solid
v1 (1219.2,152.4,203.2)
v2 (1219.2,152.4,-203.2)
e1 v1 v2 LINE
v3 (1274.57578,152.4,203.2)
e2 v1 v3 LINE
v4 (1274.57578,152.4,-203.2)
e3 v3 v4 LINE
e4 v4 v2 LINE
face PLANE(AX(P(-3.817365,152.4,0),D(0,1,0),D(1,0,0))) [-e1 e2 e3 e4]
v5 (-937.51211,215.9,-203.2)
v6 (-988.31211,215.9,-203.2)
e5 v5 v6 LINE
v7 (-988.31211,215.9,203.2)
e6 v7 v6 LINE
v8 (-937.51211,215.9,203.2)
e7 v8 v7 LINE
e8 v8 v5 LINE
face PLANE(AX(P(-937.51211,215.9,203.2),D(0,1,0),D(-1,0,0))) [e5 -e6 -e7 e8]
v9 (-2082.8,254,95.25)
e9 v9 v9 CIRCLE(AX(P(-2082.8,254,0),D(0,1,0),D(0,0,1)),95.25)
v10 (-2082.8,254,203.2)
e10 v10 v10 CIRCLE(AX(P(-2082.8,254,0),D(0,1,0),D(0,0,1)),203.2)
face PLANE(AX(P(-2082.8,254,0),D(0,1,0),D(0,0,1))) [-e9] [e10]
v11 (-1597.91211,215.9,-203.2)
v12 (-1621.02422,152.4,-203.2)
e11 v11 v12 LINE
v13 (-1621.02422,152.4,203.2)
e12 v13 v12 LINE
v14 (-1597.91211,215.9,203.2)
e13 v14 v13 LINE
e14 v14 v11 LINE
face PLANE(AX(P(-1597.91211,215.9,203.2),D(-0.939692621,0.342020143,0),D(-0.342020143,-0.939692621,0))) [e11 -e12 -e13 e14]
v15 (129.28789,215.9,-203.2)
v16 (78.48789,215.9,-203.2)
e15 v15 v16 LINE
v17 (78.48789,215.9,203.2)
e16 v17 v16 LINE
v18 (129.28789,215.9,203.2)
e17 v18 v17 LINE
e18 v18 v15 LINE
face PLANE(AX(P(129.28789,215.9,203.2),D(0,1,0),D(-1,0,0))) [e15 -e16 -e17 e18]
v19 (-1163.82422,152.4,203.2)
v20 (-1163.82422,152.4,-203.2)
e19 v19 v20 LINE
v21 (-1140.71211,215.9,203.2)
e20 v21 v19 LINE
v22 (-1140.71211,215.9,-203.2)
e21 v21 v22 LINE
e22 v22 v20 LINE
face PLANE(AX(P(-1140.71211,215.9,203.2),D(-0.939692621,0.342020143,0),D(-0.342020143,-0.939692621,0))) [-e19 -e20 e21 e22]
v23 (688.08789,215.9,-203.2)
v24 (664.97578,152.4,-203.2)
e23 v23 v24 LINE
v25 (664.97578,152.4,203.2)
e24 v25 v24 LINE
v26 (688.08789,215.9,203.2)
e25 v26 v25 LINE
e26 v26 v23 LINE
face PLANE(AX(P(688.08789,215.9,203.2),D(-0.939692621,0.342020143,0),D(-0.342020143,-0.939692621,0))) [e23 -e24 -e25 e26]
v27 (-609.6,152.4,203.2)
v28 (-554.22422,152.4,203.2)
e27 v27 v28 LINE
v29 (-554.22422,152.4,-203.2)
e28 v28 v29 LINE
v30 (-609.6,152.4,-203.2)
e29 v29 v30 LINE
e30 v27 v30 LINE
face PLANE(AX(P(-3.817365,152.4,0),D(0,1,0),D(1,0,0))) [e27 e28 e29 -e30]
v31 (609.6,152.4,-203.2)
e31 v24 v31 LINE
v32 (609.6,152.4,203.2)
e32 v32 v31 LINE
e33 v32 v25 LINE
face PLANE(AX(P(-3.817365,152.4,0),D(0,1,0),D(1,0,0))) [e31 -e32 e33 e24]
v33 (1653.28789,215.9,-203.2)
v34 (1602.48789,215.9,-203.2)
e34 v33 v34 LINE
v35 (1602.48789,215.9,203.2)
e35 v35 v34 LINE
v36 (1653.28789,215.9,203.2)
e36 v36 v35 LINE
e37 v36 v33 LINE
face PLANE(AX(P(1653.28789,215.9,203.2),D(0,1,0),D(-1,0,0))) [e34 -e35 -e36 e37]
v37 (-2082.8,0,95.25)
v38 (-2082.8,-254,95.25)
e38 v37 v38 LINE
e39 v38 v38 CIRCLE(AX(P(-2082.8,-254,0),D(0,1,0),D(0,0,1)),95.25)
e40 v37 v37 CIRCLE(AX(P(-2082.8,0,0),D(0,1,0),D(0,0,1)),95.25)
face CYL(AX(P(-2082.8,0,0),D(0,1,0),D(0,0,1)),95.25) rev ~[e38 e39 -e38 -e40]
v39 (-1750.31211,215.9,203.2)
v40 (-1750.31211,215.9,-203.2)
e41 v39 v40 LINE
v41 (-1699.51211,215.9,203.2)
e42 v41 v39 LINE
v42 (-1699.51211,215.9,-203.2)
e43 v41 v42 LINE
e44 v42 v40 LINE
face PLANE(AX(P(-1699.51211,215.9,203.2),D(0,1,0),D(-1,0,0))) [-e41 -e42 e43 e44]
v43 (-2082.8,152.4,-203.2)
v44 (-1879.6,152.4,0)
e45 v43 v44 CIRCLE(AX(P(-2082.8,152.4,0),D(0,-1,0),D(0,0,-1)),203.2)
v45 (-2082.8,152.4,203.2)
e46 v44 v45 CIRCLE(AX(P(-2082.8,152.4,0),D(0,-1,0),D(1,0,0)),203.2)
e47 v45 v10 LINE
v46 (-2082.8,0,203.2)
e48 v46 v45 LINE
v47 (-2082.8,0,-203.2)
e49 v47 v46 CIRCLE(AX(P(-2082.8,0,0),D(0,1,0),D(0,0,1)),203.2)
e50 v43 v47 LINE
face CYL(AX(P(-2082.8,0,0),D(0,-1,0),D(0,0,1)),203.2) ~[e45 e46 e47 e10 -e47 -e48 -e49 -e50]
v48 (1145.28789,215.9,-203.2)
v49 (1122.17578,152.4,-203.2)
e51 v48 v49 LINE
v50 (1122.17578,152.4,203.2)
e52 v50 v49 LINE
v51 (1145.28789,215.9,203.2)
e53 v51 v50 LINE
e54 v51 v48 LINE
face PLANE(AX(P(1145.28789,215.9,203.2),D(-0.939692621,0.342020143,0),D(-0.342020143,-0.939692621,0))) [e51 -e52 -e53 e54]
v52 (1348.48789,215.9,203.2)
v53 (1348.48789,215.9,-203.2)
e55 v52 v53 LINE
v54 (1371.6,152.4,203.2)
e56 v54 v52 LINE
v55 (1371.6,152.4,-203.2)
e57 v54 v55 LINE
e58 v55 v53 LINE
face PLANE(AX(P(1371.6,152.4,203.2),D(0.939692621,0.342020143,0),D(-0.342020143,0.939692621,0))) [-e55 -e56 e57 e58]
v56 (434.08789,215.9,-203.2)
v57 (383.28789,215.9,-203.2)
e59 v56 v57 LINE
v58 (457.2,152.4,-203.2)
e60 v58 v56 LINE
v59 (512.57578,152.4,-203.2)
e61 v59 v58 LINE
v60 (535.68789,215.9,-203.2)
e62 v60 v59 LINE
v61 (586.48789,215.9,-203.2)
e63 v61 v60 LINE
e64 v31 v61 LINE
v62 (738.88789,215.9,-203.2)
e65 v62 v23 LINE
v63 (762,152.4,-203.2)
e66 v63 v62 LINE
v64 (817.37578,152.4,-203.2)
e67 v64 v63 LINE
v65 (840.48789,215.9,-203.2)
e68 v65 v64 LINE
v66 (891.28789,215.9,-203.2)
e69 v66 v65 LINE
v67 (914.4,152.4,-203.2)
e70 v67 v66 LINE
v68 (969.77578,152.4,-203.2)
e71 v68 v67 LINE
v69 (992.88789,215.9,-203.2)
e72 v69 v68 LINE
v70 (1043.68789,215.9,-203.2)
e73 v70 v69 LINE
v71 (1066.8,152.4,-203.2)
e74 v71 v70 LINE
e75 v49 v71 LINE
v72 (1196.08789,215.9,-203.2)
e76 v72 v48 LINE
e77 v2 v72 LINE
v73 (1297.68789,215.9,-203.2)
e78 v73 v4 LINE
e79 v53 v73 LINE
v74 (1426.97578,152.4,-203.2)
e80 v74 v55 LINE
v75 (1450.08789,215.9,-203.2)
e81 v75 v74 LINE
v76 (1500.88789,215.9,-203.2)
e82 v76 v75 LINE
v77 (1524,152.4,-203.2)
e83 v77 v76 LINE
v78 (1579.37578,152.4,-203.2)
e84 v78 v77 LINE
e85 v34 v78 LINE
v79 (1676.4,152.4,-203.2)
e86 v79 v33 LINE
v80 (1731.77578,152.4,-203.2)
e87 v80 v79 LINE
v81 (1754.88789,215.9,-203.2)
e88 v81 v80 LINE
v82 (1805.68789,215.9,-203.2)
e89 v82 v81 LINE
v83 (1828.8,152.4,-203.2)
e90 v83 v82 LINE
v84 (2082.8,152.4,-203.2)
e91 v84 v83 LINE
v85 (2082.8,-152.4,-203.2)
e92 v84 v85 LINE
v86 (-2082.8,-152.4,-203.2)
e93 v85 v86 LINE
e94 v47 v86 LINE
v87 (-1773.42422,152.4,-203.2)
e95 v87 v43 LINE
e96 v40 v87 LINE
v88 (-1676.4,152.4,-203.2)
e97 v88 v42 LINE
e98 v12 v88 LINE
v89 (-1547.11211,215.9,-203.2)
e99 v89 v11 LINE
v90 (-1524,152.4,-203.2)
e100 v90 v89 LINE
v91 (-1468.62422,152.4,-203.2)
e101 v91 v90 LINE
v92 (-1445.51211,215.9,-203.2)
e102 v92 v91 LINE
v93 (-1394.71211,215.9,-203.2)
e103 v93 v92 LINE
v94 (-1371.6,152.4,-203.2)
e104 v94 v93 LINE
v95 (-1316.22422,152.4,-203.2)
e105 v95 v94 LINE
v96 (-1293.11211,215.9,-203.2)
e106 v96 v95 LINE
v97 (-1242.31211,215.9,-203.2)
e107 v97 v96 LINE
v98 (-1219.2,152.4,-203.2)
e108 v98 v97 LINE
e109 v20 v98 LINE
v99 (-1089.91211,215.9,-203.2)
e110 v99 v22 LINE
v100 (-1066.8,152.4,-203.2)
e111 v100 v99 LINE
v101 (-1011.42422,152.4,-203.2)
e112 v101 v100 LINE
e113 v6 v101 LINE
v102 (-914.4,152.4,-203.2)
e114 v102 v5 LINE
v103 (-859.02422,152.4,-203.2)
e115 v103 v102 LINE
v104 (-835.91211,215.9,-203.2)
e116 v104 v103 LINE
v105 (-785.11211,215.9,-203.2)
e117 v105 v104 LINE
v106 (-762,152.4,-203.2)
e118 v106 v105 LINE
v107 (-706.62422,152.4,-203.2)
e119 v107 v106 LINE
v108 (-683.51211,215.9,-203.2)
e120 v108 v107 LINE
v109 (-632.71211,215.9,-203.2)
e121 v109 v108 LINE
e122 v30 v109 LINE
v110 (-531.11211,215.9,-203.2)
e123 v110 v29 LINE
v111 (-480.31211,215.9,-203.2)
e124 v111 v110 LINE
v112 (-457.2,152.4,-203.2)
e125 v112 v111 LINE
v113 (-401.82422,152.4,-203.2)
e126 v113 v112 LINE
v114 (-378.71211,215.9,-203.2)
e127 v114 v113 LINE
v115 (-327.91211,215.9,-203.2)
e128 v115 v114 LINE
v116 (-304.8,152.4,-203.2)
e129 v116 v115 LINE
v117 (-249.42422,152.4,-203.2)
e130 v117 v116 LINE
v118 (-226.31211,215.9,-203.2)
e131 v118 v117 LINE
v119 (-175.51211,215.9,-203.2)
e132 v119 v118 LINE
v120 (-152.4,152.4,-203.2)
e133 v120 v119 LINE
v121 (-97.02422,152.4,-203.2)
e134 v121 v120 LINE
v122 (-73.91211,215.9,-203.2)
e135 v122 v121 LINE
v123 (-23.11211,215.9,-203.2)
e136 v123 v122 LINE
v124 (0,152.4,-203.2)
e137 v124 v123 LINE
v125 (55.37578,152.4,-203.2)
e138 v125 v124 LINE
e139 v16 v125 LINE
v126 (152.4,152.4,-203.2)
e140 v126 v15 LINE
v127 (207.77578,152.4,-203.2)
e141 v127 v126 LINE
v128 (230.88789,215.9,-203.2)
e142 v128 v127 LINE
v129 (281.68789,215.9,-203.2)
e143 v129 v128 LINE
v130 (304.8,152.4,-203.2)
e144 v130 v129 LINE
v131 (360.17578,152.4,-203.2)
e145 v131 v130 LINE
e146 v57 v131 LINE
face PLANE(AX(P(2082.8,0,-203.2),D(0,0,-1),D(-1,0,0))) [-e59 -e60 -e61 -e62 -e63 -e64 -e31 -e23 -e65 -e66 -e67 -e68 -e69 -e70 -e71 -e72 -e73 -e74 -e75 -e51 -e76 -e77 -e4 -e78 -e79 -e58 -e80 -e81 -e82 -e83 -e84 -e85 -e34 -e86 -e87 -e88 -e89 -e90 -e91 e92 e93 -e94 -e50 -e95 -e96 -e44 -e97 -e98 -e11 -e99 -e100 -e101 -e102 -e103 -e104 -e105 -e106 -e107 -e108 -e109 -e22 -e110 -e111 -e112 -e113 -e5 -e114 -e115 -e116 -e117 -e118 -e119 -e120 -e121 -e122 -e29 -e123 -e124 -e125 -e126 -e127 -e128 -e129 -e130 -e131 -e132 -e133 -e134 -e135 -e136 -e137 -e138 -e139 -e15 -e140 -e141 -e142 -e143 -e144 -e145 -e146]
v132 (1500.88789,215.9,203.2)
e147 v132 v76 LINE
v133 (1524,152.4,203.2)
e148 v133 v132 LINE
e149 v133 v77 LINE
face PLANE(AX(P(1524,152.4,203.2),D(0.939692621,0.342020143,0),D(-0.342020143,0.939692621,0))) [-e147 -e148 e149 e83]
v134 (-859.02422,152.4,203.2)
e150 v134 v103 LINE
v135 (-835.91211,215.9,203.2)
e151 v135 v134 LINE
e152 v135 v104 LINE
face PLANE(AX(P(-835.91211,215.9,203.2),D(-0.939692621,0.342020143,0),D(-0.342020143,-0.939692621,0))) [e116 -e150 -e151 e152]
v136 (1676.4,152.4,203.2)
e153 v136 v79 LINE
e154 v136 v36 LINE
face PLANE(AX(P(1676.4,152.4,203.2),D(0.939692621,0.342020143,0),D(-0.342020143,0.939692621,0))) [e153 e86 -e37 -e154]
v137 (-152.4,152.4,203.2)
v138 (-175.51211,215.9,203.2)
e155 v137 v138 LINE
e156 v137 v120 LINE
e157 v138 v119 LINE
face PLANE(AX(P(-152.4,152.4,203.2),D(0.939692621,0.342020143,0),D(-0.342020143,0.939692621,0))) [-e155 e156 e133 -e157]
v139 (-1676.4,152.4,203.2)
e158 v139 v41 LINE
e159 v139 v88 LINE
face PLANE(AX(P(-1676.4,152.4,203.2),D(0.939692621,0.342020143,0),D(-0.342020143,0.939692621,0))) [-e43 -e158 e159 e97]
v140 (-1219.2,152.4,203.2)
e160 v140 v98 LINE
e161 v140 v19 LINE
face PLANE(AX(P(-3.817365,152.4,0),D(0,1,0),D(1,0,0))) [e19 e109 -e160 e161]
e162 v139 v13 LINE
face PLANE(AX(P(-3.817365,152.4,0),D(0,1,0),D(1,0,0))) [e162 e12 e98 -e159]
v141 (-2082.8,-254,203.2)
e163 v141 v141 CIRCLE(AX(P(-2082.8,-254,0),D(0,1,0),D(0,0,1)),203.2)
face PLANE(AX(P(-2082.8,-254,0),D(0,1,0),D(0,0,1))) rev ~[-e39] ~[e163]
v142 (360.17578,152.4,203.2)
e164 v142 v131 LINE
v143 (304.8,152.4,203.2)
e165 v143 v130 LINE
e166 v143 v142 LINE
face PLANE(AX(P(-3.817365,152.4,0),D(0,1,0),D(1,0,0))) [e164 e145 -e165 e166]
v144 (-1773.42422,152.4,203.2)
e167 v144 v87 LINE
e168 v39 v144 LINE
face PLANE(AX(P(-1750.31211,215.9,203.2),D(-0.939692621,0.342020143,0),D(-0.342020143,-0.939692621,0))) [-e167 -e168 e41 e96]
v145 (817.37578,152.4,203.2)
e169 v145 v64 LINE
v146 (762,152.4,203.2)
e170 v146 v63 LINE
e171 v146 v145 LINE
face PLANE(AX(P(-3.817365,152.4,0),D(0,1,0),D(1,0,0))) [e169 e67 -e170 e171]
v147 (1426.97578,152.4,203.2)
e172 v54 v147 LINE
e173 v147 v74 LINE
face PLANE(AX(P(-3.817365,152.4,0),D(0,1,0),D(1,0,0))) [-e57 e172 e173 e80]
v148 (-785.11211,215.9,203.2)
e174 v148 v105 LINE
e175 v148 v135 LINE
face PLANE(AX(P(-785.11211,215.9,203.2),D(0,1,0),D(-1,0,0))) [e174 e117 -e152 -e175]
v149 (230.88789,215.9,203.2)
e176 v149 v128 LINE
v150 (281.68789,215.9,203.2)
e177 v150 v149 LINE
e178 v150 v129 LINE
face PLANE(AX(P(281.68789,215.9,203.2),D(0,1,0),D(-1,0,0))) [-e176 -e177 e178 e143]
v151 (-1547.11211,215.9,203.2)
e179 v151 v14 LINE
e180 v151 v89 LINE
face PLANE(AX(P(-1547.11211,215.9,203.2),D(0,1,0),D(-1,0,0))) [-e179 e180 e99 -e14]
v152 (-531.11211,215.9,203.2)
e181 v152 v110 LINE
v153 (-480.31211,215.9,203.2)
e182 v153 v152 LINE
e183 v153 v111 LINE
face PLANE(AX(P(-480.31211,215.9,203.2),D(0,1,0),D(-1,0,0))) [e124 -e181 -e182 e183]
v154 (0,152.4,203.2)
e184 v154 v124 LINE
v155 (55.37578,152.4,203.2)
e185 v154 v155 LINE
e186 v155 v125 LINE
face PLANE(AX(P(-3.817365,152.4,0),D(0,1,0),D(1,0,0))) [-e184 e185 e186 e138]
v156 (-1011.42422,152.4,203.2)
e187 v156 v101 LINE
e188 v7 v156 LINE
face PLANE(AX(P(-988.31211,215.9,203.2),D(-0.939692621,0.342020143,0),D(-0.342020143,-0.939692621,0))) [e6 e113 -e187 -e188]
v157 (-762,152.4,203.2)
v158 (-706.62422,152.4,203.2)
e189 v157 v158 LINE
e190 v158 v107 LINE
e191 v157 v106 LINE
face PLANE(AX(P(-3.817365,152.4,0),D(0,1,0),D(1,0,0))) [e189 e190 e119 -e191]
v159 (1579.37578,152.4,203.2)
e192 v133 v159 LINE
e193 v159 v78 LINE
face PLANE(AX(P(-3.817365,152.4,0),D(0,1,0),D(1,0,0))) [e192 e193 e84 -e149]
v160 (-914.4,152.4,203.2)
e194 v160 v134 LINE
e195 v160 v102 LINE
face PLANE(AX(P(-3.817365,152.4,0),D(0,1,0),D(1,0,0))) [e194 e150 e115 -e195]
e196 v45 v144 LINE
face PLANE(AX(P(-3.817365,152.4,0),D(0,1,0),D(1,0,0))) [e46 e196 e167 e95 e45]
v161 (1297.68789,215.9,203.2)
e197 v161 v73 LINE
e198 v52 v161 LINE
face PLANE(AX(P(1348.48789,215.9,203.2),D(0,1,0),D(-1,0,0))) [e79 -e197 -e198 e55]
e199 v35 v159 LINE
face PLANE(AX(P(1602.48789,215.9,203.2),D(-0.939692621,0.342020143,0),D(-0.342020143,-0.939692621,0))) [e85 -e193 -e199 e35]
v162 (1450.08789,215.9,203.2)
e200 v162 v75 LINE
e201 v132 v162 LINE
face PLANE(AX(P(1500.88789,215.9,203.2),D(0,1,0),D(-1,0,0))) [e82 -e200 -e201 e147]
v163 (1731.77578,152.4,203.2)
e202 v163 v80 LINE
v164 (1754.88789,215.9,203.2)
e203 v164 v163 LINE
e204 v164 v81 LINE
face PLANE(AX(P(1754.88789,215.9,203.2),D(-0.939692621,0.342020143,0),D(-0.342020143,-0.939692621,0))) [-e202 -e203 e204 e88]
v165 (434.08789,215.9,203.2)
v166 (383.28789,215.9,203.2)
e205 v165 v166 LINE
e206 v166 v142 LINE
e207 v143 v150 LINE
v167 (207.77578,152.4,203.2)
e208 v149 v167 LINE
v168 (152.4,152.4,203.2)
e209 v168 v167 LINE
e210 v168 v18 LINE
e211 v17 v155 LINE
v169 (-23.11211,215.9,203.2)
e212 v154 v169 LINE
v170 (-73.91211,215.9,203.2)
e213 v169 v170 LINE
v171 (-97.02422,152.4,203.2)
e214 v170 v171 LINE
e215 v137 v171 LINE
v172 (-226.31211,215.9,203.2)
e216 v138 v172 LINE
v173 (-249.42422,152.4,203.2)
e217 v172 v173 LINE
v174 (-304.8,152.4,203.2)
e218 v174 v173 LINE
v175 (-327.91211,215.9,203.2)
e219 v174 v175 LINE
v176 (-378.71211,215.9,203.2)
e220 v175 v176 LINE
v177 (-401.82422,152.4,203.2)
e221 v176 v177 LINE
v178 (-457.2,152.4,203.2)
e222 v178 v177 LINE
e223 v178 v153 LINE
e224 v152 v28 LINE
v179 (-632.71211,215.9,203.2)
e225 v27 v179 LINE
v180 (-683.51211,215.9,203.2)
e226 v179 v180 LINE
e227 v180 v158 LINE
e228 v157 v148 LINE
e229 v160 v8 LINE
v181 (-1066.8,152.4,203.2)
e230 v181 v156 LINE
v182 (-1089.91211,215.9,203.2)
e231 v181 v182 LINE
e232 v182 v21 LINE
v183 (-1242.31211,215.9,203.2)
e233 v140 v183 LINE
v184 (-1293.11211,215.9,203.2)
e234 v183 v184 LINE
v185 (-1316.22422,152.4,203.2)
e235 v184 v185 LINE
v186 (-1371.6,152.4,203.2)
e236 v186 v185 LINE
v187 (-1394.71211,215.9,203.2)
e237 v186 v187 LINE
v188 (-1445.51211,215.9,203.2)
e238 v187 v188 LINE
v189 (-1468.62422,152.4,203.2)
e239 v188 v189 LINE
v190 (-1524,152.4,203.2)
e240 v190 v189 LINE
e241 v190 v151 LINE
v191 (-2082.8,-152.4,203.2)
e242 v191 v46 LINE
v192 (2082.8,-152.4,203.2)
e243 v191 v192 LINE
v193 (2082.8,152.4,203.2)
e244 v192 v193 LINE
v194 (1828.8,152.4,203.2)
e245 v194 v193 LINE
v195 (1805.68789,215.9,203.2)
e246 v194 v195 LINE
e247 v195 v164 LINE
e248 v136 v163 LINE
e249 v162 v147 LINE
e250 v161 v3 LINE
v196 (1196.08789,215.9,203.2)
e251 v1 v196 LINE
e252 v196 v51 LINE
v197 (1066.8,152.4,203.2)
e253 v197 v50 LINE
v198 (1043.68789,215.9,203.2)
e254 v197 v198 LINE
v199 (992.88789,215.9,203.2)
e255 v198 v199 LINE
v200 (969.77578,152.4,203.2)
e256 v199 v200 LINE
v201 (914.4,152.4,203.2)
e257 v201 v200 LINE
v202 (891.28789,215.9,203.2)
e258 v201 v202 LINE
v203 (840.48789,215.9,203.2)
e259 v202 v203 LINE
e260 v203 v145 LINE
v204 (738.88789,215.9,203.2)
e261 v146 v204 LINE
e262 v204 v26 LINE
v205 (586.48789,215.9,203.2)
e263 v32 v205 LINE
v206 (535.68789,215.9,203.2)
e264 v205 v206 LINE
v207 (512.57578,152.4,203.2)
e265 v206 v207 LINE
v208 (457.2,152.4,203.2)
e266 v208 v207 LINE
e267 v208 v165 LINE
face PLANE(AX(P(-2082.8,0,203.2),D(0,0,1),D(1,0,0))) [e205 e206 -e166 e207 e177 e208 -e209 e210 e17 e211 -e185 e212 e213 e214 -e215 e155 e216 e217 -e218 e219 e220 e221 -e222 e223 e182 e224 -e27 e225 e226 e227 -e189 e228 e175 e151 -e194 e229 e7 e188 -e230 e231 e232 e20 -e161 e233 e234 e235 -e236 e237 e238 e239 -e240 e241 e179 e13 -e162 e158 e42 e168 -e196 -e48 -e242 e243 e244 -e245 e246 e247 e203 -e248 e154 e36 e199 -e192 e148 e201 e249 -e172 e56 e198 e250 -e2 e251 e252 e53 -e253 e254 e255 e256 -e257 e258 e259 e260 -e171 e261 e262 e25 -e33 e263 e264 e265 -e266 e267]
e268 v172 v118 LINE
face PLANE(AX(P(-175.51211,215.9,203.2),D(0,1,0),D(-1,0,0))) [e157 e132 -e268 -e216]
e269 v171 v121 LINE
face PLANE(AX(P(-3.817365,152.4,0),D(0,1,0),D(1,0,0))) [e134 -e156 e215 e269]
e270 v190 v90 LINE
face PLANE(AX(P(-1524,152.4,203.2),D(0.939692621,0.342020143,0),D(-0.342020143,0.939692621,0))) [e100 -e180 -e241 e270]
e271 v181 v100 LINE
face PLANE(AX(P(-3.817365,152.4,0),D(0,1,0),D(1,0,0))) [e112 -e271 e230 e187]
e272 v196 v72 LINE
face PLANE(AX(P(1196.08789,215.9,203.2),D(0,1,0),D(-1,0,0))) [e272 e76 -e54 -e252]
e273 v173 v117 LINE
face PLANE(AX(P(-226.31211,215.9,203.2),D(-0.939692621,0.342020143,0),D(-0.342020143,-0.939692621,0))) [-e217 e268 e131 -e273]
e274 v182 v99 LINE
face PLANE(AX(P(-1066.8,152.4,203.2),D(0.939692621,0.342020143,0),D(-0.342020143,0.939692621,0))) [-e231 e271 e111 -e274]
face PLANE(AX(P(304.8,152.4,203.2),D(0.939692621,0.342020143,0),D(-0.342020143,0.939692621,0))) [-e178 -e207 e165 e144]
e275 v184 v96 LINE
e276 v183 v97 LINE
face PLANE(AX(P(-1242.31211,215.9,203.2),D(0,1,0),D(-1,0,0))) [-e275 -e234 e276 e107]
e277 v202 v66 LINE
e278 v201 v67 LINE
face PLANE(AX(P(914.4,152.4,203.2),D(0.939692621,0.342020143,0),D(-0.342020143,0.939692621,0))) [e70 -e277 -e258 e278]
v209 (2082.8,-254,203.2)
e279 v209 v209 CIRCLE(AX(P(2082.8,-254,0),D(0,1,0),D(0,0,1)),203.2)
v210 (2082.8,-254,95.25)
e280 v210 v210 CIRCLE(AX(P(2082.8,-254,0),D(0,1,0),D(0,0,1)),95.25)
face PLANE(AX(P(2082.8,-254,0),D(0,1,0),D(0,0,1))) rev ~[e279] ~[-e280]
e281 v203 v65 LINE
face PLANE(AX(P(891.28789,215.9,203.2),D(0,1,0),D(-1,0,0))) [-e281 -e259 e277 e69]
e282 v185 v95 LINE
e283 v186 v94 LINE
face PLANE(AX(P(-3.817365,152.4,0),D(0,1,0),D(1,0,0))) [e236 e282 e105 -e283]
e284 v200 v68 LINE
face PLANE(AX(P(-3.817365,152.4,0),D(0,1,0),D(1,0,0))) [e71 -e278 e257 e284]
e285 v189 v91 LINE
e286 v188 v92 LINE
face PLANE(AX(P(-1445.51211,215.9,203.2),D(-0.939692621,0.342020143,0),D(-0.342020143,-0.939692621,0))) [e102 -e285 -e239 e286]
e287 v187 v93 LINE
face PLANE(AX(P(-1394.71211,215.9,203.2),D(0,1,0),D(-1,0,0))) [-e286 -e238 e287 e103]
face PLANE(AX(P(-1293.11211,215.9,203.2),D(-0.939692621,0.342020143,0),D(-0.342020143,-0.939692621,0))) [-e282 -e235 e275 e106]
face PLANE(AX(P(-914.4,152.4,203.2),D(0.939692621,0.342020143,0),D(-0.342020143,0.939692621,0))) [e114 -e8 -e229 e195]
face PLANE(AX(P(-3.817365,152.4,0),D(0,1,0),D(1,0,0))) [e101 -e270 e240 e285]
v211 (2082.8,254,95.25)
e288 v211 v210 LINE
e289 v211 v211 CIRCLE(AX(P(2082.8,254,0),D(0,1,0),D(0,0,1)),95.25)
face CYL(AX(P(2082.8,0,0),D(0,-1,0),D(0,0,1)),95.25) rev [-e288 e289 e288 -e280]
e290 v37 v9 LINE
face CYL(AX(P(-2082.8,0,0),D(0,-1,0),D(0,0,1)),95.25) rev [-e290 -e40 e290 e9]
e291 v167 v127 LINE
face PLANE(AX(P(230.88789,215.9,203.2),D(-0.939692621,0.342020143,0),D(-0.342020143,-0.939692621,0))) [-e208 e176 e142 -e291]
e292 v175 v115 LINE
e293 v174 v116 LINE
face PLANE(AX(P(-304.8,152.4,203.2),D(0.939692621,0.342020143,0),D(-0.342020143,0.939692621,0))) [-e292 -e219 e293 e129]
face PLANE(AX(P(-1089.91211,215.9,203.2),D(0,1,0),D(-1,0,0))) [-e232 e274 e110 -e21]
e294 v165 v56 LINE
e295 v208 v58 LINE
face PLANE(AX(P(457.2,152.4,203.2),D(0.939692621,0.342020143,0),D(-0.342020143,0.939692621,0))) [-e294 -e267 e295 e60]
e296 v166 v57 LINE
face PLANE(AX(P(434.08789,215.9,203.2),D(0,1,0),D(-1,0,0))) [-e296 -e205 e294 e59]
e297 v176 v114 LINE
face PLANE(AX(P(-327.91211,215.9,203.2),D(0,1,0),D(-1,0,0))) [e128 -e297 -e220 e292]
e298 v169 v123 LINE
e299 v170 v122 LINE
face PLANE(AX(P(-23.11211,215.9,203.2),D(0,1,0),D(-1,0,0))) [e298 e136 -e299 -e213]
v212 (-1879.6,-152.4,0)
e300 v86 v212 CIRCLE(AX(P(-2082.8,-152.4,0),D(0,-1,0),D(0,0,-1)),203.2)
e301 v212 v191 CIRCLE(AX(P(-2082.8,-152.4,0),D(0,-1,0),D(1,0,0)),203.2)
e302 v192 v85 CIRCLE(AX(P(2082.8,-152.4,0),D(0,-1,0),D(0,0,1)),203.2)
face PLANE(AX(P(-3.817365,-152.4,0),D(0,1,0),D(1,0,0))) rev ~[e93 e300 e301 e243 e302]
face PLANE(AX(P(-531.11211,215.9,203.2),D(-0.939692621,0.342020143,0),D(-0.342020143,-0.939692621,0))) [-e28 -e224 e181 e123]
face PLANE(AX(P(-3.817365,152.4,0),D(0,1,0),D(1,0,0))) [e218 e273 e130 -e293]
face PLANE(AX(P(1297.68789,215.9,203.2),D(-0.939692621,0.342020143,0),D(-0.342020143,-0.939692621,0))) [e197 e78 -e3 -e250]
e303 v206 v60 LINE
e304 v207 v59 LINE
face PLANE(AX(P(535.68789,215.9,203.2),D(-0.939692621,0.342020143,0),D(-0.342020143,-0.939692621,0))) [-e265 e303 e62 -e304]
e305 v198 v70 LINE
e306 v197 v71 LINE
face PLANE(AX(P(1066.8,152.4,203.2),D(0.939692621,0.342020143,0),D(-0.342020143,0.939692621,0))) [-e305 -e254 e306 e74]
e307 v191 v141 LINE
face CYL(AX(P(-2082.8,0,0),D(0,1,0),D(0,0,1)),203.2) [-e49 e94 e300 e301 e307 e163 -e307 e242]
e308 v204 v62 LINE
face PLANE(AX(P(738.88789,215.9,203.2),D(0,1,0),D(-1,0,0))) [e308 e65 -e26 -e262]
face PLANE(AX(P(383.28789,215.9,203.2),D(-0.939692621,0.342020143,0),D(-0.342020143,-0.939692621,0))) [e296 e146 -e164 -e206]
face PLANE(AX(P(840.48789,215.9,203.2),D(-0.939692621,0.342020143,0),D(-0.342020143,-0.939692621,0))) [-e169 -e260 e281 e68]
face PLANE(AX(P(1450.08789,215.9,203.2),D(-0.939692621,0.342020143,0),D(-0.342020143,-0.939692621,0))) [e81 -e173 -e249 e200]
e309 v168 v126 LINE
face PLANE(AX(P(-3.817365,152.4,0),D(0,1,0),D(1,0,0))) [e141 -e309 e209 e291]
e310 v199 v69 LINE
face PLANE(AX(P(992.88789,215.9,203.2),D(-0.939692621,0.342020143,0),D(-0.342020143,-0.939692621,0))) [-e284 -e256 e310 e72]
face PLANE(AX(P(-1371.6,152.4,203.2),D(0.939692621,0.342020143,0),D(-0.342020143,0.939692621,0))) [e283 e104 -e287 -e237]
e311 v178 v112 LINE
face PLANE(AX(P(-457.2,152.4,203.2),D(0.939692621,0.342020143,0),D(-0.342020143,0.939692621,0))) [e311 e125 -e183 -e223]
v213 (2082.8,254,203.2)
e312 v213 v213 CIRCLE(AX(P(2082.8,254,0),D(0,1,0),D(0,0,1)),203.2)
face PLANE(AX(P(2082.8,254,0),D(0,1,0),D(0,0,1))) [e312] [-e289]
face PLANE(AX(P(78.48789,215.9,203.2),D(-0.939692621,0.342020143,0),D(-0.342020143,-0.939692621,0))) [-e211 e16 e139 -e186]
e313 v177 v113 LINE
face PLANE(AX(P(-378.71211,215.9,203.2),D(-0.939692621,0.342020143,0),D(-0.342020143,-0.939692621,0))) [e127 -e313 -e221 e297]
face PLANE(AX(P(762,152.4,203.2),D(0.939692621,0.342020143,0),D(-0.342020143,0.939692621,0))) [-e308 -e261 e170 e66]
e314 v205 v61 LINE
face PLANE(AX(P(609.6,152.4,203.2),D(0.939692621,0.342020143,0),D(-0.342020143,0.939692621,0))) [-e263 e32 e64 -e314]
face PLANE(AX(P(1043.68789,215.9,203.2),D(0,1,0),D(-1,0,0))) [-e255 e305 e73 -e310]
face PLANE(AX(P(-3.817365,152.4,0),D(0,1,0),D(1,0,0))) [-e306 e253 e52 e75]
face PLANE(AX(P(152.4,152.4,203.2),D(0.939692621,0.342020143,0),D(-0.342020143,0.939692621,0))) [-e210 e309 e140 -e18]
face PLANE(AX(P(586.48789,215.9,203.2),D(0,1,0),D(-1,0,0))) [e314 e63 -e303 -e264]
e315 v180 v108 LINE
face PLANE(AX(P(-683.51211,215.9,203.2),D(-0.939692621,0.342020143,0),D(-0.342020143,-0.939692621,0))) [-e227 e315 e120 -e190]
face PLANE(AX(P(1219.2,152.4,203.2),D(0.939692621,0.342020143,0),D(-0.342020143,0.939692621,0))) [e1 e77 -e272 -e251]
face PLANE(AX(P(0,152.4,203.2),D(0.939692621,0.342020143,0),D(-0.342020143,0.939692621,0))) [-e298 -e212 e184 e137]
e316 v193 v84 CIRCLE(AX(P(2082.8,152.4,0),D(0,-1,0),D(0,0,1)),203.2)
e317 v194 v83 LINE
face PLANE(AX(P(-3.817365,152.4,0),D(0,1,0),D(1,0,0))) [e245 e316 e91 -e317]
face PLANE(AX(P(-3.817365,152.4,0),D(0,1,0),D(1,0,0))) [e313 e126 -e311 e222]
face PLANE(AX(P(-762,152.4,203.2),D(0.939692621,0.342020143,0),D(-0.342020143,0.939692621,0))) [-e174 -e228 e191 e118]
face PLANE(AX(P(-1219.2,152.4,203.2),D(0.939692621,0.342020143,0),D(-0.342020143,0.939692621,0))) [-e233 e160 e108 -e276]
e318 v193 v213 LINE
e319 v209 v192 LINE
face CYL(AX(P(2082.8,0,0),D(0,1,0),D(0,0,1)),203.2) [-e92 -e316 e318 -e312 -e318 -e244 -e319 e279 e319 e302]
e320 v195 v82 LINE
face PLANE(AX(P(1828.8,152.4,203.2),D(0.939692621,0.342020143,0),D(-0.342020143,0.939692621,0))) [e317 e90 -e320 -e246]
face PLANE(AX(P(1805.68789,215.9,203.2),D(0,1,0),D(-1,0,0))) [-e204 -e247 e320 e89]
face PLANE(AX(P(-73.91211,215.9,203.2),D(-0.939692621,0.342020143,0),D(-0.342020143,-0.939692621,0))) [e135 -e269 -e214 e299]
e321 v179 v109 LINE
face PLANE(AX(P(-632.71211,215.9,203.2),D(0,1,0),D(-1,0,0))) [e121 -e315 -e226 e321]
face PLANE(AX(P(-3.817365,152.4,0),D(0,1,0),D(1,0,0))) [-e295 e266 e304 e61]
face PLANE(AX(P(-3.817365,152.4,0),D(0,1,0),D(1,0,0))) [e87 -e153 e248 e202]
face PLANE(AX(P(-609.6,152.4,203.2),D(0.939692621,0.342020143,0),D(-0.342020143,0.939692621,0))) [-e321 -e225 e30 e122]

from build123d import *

# Parameters (mm, degrees)
BOSS_EXTRUDE1_DEPTH = 152.4
SKETCH1_4_R         = 203.2
SKETCH1_4_R_2       = 95.25
BOSS_EXTRUDE2_DEPTH = 254
BOSS_EXTRUDE3_DEPTH = 406.4
LPATTERN1_COUNT     = 24
LPATTERN1_PITCH     = 152.4


with BuildPart() as part:
    # Sketch1 → Boss-Extrude1 (new, symmetric)
    with BuildSketch(Plane(origin=(0, 0, 0), x_dir=(1, 0, 0), z_dir=(0, 1, 0))):
        with BuildLine():
            ThreePointArc((-1879.6, 0), (-1939.115902063, -143.684097937), (-2082.8, -203.2))
            Line((-2082.8, -203.2), (2082.8, -203.2))
            ThreePointArc((2082.8, -203.2), (1879.6, 0), (2082.8, 203.2))
            Line((2082.8, 203.2), (-2082.8, 203.2))
            ThreePointArc((-2082.8, 203.2), (-1939.115902063, 143.684097937), (-1879.6, 0))
        make_face()
    extrude(amount=BOSS_EXTRUDE1_DEPTH, both=True)

    # Sketch1<4> → Boss-Extrude2 (add, symmetric)
    # profile 1 of 2: a face of its own
    with BuildSketch(Plane(origin=(0, 0, 0), x_dir=(1, 0, 0), z_dir=(0, 1, 0))):
        with Locations(Location((-2082.8, 0, 0), (0, 0, 270))):
            Circle(SKETCH1_4_R)
        with Locations(Location((-2082.8, 0, 0), (0, 0, 270))):
            Circle(SKETCH1_4_R_2, mode=Mode.SUBTRACT)
    # profile 2 of 2: a face of its own
    with BuildSketch(Plane(origin=(0, 0, 0), x_dir=(1, 0, 0), z_dir=(0, 1, 0))):
        with Locations(Location((2082.8, 0, 0), (0, 0, 270))):
            Circle(SKETCH1_4_R)
        with Locations(Location((2082.8, 0, 0), (0, 0, 270))):
            Circle(SKETCH1_4_R_2, mode=Mode.SUBTRACT)
    extrude(amount=BOSS_EXTRUDE2_DEPTH, both=True)

    # Sketch2 → Boss-Extrude3 (add)
    with BuildSketch(Plane.XY.offset(203.2)):
        Polygon((1828.8, 152.4), (1805.687890124, 215.9), (1754.887890124, 215.9), (1731.775780248, 152.4), align=None)
    boss_extrude3 = extrude(amount=-BOSS_EXTRUDE3_DEPTH)

    # LPattern1: Boss-Extrude3 ×24
    with Locations(*[(-i * LPATTERN1_PITCH, 0, 0) for i in range(1, LPATTERN1_COUNT)]):
        add(boss_extrude3)


solid = part.part
